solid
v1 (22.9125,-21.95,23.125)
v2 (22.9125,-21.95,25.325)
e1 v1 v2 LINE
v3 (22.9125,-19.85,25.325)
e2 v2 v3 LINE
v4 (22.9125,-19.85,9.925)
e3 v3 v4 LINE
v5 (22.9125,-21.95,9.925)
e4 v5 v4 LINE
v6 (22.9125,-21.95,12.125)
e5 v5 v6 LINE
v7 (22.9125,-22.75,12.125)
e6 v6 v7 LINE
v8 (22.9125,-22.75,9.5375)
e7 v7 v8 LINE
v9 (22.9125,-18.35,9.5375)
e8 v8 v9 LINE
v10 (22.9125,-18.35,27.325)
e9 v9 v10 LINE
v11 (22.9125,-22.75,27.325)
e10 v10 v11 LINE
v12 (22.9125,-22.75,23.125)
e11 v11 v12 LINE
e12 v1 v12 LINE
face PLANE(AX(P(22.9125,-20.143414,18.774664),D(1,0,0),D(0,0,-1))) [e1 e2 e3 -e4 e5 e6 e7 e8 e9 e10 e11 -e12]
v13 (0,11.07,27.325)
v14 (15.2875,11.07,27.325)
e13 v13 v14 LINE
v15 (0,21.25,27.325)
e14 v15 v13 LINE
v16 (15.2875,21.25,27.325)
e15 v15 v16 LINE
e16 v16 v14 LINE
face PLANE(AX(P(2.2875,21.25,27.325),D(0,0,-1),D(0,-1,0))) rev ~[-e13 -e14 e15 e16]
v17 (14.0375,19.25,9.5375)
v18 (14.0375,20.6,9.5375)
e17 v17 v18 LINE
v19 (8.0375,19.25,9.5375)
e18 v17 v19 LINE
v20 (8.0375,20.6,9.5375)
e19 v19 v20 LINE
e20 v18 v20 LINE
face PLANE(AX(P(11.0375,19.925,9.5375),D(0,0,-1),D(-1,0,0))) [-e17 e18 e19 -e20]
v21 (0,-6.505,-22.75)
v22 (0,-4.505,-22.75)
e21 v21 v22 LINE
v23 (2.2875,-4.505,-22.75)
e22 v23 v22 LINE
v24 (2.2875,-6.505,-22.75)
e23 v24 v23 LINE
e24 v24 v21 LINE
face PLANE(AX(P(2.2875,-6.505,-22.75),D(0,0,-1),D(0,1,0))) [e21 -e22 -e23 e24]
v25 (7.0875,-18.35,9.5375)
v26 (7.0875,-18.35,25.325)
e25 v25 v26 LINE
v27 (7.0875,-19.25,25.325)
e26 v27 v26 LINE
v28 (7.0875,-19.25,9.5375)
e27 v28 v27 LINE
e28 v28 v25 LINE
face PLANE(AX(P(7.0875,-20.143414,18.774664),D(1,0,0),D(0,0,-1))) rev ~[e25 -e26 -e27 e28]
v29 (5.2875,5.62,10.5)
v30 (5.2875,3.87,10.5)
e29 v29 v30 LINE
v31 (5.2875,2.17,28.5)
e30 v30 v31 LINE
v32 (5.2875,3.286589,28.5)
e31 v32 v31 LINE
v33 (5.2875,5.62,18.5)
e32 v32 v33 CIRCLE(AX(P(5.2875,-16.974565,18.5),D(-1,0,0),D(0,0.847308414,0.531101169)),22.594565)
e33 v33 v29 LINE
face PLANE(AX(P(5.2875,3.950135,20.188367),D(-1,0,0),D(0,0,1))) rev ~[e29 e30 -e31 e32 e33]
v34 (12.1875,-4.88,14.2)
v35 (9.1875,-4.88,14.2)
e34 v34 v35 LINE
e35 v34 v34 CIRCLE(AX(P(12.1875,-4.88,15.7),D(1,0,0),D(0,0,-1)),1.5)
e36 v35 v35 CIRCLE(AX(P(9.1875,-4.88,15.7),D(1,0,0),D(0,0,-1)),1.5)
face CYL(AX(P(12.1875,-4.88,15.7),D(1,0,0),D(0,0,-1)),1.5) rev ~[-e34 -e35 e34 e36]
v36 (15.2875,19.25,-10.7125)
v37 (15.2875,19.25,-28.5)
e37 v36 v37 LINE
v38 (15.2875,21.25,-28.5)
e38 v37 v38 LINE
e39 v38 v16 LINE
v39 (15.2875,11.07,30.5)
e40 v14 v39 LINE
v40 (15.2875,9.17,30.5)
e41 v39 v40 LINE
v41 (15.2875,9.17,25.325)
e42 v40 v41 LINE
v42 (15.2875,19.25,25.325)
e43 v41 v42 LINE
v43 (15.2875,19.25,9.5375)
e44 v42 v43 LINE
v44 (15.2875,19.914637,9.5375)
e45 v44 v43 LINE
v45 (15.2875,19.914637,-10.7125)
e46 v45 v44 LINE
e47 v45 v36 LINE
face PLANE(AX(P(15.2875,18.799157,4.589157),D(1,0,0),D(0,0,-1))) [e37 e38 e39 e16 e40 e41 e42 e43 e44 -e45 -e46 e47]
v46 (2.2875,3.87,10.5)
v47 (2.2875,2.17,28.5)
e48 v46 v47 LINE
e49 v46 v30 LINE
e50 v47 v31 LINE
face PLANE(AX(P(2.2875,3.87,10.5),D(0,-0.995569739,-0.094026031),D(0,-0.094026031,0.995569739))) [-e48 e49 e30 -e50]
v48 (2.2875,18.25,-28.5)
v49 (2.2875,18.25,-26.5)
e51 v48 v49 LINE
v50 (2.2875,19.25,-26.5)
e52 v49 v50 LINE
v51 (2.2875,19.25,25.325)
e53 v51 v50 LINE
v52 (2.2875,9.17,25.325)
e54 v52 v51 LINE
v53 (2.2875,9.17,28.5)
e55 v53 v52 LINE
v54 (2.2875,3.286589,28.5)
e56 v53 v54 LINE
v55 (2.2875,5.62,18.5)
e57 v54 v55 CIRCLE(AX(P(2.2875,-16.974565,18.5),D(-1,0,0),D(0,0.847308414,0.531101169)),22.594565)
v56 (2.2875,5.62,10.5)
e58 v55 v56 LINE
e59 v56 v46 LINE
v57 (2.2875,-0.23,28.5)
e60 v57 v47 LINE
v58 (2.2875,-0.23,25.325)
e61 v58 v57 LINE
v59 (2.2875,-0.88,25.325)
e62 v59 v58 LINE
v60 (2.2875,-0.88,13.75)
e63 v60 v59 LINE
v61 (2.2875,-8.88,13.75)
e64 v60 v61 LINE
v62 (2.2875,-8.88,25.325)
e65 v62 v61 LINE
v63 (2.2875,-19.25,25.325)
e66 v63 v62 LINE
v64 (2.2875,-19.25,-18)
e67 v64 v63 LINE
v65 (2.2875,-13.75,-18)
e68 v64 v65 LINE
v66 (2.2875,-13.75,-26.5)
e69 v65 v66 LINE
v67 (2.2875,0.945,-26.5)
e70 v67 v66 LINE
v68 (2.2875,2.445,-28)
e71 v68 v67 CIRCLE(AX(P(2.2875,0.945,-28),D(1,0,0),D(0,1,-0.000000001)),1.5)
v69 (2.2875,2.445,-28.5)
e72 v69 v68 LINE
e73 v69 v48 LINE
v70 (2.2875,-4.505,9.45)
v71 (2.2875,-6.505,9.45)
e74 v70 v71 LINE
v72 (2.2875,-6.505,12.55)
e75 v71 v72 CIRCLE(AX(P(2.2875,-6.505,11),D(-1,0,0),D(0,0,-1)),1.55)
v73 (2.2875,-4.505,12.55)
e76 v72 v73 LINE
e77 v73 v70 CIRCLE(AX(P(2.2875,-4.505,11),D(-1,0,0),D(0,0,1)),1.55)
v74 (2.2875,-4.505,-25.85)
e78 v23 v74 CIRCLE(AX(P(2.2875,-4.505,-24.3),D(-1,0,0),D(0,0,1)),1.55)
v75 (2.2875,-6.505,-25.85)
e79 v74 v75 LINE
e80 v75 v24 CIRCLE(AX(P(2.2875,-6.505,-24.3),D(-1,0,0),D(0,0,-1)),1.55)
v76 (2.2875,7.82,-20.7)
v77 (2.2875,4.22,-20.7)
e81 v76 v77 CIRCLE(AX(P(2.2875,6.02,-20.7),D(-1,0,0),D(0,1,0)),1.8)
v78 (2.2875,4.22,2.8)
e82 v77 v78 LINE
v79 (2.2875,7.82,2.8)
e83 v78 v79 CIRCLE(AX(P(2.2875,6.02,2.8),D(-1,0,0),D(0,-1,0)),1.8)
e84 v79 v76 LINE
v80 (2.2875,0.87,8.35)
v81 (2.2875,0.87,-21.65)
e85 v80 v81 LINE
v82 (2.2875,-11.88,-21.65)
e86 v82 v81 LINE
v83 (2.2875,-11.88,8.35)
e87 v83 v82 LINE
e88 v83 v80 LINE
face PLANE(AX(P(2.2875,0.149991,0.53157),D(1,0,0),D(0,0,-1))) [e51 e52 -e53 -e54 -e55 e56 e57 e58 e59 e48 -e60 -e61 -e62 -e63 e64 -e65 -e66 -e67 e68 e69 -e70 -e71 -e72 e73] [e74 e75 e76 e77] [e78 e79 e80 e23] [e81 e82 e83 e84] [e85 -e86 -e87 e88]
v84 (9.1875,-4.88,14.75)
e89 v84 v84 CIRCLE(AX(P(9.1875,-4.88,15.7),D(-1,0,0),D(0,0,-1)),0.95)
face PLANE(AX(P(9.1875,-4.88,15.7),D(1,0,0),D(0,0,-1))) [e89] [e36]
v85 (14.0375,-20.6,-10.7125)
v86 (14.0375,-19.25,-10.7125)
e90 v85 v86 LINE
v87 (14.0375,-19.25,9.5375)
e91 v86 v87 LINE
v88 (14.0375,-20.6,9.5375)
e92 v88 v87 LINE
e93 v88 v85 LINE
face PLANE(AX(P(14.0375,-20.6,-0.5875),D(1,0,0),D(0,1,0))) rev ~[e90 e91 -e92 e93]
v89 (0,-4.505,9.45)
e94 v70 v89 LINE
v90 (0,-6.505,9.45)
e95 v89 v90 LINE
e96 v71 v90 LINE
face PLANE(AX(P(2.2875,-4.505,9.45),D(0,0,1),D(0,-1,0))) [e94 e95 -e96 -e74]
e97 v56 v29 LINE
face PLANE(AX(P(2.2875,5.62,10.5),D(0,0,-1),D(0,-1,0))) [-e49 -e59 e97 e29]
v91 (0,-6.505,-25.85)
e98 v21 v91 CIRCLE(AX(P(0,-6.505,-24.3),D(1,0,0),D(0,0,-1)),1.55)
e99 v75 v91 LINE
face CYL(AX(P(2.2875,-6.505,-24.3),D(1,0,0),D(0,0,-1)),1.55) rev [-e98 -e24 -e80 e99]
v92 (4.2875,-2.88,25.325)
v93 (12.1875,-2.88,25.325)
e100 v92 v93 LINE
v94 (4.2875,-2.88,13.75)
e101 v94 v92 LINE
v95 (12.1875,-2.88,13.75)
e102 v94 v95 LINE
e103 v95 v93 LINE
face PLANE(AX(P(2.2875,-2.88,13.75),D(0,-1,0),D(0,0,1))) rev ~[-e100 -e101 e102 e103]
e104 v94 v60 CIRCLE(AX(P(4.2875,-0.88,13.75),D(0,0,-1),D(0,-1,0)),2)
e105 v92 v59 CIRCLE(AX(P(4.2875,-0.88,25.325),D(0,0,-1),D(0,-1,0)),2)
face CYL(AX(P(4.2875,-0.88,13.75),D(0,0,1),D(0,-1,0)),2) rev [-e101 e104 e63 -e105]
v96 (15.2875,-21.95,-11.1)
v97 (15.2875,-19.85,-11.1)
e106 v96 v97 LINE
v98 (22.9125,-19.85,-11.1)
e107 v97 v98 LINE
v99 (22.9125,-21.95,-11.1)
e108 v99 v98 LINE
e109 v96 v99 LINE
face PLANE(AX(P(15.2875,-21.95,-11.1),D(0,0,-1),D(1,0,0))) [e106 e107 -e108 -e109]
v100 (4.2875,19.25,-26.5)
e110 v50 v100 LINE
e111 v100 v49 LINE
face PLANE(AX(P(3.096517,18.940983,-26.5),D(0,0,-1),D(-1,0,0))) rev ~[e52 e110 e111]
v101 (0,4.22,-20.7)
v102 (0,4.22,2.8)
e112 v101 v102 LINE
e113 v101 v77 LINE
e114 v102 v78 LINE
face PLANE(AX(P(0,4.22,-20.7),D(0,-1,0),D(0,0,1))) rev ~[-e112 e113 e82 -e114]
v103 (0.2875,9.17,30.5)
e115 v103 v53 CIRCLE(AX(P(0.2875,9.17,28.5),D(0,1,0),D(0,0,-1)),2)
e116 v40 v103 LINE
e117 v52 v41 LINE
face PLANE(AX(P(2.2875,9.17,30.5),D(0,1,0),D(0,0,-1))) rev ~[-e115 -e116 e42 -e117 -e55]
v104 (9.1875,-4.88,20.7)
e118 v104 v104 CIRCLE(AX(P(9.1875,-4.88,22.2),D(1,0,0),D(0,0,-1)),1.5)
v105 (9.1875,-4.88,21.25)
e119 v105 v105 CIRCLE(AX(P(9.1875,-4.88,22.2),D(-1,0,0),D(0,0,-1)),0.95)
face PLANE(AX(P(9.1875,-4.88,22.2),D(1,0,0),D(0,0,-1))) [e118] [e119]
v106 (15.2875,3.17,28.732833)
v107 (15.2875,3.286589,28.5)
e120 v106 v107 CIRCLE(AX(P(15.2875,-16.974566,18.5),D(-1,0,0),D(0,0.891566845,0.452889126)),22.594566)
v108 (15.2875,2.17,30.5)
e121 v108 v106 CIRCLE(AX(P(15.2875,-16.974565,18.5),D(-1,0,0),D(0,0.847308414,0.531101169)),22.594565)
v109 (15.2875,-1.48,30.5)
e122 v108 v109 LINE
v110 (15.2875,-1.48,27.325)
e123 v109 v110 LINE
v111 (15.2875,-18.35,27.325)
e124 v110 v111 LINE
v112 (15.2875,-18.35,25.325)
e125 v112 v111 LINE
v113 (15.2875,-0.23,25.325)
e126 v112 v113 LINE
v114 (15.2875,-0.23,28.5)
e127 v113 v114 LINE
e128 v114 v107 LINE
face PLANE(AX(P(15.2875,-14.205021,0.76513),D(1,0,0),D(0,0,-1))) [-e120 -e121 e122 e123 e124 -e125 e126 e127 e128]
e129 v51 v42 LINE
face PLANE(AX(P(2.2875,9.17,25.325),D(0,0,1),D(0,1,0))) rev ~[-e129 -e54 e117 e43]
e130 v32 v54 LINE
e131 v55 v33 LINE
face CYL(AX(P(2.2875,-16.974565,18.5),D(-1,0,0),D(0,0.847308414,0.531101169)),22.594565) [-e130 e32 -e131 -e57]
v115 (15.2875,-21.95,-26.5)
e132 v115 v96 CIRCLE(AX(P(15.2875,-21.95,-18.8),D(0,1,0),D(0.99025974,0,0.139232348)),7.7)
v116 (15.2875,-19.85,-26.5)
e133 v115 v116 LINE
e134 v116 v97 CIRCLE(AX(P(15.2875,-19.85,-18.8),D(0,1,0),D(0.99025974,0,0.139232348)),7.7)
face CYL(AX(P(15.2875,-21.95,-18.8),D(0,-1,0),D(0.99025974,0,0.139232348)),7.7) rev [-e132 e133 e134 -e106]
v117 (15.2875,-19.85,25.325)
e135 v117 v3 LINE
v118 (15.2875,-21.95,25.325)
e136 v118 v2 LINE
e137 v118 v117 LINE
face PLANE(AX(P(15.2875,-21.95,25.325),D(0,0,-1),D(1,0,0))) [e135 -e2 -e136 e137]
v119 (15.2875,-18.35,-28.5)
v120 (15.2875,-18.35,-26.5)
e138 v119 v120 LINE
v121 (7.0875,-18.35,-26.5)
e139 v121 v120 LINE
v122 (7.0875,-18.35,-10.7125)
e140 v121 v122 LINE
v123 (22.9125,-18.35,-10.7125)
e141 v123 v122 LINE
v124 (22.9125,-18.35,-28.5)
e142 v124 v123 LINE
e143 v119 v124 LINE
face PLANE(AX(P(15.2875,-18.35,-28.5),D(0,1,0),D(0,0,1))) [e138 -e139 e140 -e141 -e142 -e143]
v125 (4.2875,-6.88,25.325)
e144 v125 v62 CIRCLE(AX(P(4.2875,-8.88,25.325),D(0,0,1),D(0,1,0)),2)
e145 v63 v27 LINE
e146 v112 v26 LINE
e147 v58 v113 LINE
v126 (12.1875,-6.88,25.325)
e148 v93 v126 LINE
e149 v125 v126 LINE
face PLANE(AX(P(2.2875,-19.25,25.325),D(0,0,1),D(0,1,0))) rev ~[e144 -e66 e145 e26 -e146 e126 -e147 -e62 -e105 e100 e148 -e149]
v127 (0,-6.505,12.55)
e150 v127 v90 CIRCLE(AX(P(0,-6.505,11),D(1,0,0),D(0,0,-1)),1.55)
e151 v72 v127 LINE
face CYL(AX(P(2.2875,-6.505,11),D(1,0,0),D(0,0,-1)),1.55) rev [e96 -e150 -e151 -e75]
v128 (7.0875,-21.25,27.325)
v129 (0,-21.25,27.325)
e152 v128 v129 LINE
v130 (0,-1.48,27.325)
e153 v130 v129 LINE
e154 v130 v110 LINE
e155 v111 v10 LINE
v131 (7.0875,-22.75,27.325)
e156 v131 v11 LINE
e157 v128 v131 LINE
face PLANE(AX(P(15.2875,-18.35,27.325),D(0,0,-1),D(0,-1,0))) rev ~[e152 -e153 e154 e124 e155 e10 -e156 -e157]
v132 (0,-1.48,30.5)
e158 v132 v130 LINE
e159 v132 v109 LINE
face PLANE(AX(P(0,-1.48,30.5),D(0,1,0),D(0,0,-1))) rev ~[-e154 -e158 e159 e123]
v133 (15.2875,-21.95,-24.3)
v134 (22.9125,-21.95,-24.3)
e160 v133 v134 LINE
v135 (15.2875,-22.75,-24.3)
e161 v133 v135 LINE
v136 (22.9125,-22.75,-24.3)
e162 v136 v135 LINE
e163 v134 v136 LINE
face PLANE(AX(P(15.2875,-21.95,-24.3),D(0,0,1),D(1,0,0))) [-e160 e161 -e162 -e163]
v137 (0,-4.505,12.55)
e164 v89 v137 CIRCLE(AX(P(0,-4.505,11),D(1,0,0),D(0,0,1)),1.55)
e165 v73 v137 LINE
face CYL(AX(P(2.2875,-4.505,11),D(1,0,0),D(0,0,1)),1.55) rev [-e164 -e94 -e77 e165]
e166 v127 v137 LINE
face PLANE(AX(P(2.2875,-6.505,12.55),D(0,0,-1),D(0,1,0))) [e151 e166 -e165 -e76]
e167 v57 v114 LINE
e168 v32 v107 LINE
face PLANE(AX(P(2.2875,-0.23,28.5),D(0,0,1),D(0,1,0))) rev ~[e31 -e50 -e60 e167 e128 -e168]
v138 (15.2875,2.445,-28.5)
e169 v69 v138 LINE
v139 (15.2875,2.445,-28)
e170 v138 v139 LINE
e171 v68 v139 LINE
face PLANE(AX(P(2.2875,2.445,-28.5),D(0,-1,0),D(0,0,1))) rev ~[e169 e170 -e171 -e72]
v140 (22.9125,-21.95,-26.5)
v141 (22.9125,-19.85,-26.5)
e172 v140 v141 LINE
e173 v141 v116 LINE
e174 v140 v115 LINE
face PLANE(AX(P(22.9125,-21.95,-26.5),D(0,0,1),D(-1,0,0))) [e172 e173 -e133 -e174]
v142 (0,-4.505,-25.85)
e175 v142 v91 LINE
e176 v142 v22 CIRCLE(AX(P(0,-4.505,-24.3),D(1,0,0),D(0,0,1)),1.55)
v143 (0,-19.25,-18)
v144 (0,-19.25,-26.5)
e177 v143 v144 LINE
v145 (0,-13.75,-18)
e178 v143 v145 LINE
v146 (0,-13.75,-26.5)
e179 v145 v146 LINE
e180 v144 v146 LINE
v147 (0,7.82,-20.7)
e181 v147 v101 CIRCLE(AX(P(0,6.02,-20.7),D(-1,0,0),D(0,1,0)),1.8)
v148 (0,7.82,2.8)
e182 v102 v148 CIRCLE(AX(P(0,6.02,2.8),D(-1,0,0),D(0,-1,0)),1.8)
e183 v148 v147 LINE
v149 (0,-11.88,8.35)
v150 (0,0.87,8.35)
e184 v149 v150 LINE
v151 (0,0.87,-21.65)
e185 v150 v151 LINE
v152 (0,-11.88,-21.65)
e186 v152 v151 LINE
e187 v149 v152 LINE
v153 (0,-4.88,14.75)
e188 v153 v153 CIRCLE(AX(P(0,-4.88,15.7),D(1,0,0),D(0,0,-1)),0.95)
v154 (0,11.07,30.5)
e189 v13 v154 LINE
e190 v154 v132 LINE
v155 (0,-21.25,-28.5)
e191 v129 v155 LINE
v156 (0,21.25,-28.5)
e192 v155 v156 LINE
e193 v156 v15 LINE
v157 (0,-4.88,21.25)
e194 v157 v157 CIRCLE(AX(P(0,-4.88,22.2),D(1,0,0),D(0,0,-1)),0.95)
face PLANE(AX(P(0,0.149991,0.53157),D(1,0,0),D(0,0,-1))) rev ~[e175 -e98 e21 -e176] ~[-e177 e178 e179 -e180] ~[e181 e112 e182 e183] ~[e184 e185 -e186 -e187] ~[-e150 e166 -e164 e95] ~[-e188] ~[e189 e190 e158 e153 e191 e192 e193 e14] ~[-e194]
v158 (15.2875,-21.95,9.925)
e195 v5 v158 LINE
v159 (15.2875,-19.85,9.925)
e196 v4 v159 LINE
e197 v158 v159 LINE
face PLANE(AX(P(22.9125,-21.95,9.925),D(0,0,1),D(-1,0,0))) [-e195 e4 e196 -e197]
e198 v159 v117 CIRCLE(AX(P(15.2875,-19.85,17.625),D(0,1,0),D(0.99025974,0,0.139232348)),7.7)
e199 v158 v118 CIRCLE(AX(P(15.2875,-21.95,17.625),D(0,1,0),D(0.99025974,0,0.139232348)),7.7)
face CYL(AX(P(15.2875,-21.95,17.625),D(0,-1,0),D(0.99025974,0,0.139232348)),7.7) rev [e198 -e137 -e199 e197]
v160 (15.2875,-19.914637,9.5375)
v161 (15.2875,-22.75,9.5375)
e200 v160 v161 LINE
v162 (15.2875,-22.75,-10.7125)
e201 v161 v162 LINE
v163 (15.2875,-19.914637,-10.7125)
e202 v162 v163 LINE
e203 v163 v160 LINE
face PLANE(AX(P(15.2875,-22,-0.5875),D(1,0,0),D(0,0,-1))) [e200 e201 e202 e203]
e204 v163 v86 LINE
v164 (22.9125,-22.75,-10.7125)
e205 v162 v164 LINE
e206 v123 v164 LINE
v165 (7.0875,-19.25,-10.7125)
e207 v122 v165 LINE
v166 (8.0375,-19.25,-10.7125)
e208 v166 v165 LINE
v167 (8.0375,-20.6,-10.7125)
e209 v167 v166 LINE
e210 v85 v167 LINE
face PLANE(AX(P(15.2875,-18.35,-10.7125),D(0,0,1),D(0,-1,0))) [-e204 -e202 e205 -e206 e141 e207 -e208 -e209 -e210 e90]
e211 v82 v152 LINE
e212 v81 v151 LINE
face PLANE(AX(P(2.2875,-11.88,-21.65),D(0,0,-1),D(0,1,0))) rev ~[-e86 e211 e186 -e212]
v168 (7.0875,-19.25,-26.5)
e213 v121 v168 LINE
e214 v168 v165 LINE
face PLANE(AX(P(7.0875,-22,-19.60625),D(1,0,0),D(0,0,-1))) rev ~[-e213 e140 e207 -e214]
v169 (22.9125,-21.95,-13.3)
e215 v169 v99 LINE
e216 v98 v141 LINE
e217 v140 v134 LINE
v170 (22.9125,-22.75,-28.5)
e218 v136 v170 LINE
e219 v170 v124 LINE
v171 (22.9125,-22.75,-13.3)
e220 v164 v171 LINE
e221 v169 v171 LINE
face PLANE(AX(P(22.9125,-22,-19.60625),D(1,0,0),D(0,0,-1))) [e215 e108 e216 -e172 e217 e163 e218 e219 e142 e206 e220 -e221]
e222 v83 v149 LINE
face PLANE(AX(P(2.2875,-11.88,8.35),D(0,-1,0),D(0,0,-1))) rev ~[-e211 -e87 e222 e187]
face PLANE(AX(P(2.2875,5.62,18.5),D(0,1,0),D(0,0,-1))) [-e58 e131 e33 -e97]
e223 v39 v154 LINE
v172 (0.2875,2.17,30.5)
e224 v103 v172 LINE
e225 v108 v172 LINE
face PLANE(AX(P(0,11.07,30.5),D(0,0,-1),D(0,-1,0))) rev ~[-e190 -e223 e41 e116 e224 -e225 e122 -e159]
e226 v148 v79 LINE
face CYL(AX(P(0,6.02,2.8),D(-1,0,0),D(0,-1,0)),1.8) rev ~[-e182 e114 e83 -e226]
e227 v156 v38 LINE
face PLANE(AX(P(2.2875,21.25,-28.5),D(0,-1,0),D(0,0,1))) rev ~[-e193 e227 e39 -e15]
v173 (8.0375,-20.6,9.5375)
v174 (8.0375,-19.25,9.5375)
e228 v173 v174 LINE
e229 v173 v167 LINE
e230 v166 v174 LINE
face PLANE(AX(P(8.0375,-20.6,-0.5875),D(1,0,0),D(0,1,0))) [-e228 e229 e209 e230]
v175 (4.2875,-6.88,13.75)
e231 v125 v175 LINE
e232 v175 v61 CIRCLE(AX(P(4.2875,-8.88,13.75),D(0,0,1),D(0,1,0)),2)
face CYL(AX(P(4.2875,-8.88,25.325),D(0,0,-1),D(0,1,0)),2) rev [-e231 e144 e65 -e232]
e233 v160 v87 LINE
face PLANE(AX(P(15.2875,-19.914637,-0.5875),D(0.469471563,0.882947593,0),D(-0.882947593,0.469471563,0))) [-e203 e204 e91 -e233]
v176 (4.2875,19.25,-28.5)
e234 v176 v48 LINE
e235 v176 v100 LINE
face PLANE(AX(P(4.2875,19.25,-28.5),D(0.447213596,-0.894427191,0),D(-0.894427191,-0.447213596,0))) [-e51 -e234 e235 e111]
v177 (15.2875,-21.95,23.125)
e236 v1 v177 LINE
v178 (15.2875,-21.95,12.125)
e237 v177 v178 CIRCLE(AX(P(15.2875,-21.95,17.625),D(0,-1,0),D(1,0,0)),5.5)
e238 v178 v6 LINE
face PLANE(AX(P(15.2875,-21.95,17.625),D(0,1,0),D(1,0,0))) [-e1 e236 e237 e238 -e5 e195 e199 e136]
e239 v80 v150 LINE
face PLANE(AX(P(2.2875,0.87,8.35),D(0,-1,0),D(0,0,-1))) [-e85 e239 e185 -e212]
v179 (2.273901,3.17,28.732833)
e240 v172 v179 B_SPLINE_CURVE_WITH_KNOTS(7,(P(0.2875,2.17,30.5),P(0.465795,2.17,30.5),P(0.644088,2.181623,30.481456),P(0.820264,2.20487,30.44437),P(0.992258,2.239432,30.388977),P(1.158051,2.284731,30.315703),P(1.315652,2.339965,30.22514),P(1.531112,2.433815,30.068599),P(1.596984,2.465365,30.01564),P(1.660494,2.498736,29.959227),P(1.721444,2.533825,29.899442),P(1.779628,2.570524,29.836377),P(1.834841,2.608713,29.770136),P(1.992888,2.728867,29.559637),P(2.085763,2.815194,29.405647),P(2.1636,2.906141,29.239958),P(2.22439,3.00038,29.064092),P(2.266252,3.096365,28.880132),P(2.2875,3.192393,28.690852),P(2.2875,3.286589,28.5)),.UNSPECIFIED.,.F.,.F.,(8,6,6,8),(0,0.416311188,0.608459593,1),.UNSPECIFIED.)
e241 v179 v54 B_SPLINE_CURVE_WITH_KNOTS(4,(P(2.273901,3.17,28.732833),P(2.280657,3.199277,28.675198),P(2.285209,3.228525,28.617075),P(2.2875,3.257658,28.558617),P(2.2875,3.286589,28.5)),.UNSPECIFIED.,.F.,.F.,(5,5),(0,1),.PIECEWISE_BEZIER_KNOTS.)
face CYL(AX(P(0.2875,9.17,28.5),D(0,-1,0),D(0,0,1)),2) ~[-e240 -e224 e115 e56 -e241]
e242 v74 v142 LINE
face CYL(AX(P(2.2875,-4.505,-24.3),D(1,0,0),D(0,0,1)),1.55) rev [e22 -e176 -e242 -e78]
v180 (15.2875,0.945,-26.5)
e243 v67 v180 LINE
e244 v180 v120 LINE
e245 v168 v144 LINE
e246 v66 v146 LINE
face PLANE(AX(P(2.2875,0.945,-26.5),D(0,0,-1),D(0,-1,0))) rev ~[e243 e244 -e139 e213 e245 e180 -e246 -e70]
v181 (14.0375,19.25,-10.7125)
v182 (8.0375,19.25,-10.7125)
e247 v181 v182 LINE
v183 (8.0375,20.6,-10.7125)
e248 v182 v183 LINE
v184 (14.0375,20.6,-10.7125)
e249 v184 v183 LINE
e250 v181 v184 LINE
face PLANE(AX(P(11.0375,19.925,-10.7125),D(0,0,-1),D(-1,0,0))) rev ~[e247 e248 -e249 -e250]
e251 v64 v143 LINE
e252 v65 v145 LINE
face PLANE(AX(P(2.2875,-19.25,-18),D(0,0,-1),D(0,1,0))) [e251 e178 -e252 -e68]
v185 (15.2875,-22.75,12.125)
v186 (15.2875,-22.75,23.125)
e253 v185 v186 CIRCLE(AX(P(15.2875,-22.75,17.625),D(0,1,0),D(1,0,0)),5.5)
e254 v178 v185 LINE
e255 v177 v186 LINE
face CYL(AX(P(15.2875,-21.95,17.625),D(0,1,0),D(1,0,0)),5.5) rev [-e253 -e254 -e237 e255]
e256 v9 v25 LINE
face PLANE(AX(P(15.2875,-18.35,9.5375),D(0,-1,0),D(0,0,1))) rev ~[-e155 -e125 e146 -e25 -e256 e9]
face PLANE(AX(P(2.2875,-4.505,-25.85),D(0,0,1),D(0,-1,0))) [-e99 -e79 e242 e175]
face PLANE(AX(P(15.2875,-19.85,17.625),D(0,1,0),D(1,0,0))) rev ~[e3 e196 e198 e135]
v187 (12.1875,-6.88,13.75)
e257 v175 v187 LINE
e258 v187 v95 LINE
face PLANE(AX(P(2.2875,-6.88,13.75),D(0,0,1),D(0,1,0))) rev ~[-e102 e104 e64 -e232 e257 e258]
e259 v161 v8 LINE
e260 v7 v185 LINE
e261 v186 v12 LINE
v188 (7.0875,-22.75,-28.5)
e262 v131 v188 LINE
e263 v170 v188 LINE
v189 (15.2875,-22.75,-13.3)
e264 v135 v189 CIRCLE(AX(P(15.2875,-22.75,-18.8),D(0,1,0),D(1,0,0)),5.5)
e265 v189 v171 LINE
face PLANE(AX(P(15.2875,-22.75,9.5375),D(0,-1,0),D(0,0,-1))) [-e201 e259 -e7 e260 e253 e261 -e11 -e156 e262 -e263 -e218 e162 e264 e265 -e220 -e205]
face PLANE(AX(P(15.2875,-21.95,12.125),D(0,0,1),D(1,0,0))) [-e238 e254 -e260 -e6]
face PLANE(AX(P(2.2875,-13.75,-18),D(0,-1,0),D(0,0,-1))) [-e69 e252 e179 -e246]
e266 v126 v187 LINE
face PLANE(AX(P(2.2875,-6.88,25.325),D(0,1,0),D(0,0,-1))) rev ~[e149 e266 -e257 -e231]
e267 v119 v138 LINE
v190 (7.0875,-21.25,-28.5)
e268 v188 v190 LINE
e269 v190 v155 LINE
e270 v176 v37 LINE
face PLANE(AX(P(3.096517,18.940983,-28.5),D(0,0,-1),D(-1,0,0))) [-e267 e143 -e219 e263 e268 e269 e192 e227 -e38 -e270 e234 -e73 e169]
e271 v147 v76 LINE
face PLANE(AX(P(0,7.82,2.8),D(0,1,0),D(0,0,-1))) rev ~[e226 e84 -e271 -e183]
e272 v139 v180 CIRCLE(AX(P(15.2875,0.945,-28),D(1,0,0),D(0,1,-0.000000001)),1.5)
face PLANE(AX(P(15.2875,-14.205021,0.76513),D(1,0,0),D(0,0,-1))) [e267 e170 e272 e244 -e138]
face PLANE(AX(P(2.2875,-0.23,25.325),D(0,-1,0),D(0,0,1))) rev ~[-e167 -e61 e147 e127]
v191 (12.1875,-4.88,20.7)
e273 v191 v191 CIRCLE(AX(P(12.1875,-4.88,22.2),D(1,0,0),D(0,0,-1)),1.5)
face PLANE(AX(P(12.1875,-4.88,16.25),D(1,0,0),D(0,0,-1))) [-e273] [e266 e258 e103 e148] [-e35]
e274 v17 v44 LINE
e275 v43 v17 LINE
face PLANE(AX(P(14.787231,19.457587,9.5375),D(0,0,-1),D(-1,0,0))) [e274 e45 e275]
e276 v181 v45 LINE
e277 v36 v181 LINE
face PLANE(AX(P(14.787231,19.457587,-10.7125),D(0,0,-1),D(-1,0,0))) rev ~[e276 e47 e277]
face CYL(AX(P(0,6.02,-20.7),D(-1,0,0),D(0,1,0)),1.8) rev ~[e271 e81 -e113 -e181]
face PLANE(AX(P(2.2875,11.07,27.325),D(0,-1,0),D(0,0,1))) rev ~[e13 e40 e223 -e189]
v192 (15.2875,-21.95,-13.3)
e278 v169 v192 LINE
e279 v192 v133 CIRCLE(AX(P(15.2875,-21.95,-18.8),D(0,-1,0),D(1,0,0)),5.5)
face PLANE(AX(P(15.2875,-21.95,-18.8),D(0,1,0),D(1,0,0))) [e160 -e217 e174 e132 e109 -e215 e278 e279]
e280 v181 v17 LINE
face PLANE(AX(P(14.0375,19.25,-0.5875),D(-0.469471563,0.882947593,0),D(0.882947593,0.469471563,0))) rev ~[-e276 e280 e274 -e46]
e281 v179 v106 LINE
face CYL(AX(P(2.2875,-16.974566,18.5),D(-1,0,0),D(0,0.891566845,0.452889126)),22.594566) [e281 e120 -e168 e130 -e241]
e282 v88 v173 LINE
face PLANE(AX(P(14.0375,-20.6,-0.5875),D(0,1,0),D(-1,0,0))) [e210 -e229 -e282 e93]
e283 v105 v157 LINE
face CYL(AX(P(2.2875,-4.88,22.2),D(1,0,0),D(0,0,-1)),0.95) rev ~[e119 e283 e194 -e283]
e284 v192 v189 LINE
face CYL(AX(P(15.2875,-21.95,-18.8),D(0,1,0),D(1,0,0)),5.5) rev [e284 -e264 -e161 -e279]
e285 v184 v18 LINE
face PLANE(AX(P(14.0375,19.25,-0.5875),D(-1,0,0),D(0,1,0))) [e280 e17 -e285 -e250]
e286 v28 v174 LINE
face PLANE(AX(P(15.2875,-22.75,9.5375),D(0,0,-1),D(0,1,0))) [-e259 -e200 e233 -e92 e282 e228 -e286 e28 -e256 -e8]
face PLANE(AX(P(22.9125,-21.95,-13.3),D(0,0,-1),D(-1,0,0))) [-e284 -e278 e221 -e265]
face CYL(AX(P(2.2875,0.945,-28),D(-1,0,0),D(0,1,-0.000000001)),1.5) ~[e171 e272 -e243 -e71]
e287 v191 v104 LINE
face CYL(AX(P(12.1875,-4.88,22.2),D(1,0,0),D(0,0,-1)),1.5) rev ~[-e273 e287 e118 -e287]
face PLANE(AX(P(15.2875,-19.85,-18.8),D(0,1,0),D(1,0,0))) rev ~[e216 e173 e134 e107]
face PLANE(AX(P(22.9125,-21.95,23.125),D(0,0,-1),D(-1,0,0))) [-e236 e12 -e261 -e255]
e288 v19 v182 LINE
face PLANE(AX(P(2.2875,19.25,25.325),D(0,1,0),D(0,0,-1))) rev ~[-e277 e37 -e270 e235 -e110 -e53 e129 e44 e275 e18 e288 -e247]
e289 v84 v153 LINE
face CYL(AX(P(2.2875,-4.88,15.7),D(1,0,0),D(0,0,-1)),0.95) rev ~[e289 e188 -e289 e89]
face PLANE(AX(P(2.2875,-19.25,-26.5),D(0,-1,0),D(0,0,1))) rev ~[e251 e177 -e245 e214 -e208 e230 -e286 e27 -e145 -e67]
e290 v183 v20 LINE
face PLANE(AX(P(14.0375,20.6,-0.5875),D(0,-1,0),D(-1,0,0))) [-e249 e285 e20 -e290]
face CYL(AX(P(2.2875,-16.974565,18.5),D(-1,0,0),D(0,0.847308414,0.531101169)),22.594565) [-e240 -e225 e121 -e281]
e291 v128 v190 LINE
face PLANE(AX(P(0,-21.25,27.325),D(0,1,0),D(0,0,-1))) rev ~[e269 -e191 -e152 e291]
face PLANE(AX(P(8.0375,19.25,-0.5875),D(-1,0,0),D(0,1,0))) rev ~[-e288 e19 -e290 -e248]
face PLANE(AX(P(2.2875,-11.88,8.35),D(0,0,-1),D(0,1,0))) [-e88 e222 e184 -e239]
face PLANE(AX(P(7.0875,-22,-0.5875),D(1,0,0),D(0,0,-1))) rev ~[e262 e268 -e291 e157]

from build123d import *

# Parameters (mm, degrees)
MAIN_EXTRUDE_DEPTH            = 2.2875
WALLS_START                   = 2.2875
WALLS_DEPTH                   = 13
CORNER_SUPPORT_DEPTH          = 2
SKETCH2_R                     = 0.95
SKETCH2_W                     = 2.4
SKETCH2_H                     = 4
SKETCH2_W_2                   = 1
SWITCH_SPACER_DEPTH           = 9.9
ARM_SUPPORT_EXTRUDE_DEPTH     = 3
ARM_SUPPORT_CURVE_DEPTH       = 40.380356778
FILLET4_R                     = 2
FILLET3_R                     = 2
SKETCH2_5_R                   = 0.95
SWITCH_MOUNT_HOLES_DEPTH      = 40.380356889
SWITCH_MOUNT_HOLES_DEPTH_BACK = 40.380356889
SKETCH35_R                    = 1.5
SWITCH_MOUNT_EXIT_HOLES_DEPTH = 3
SKETCH4_W                     = 8.5
SKETCH4_H                     = 5.5
WIRE_HOLE_DEPTH               = 40.380356889
SKETCH25_W                    = 6
SKETCH25_H                    = 1.35
FEMALE_SNAP_DEPTH             = 10.125
SKETCH5_W                     = 30
SKETCH5_H                     = 12.75
SERVO_HOLE_DEPTH              = 40.380356889
SKETCH30_W                    = 15.7875
SKETCH30_H                    = 0.9
SKETCH30_W_2                  = 17.7875
SKETCH30_H_2                  = 1.5
MAGNET_EXTRUDE_1_DEPTH        = 7.625
MAGNET_EXTRUDE_1_DEPTH_BACK   = 8.2
SKETCH30_5_W                  = 20.25
SKETCH30_5_H                  = 1.5
MAGNET_EXTRUDE_2_DEPTH        = 8.2
SKETCH29_R                    = 7.7
MAGNET_HOLE_DEPTH             = 2.1
SKETCH31_R                    = 5.5
MAGNET_THRU_HOLE_DEPTH        = 58.632218961


with BuildPart() as part:
    # Sketch1 → Main Extrude (new body)
    with BuildSketch(Plane(origin=(0, 0, 0), x_dir=(0, 0, -1), z_dir=(1, 0, 0))):
        Polygon((-30.5, -1.48), (-27.325, -1.48), (-27.325, -21.25), (28.5, -21.25), (28.5, 21.25), (-27.325, 21.25), (-27.325, 11.07), (-30.5, 11.07), align=None)
        with BuildLine():
            Line((20.7, 4.22), (-2.8, 4.22))
            ThreePointArc((-2.8, 4.22), (-4.6, 6.02), (-2.8, 7.82))
            Line((-2.8, 7.82), (20.7, 7.82))
            ThreePointArc((20.7, 7.82), (22.5, 6.02), (20.7, 4.22))
        make_face(mode=Mode.SUBTRACT)
    extrude(amount=MAIN_EXTRUDE_DEPTH)

    # Sketch1_3 → Walls (add)
    with BuildSketch(Plane(origin=(0, 0, 0), x_dir=(0, 0, -1), z_dir=(1, 0, 0)).offset(WALLS_START)):
        Polygon((-25.325, 19.25), (28.5, 19.25), (28.5, 21.25), (-27.325, 21.25), (-27.325, 11.07), (-30.5, 11.07), (-30.5, 9.17), (-25.325, 9.17), align=None)
        with BuildLine():
            Line((28.5, 2.445), (28, 2.445))
            ThreePointArc((28, 2.445), (26.939339828, 2.005660172), (26.5, 0.945))
            Line((26.5, 0.945), (26.5, -19.25))
            Line((26.5, -19.25), (-25.325, -19.25))
            Line((-25.325, -19.25), (-25.325, -0.23))
            Line((-25.325, -0.23), (-28.5, -0.23))
            Line((-28.5, -0.23), (-28.5, 3.42))
            Line((-28.5, 3.42), (-30.5, 3.42))
            Line((-30.5, 3.42), (-30.5, -1.48))
            Line((-30.5, -1.48), (-27.325, -1.48))
            Line((-27.325, -1.48), (-27.325, -21.25))
            Line((-27.325, -21.25), (28.5, -21.25))
            Line((28.5, -21.25), (28.5, 2.445))
        make_face()
    extrude(amount=WALLS_DEPTH)

    # Sketch22 → Corner Support (add)
    with BuildSketch(Plane(origin=(0, 0, -28.5), x_dir=(-1, 0, 0), z_dir=(0, 0, -1))):
        Polygon((-4.2875, 19.25), (-2.2875, 18.25), (-2.2875, 19.25), align=None)
    extrude(amount=-CORNER_SUPPORT_DEPTH)

    # Sketch2 → Switch Spacer (add)
    with BuildSketch(Plane(origin=(2.2875, 0, 0), x_dir=(0, 0, -1), z_dir=(1, 0, 0))):
        Polygon((-14.75, -2.88), (-17.75, -2.88), (-17.75, -6.88), (-14.75, -6.88), (-14.75, -4.88), align=None)
        with Locations((-15.7, -4.88)):
            Circle(SKETCH2_R, mode=Mode.SUBTRACT)
        with Locations((-15.7, -4.88)):
            Circle(SKETCH2_R)
        Polygon((-20.15, -2.88), (-23.15, -2.88), (-23.15, -4.88), (-23.15, -6.88), (-20.15, -6.88), align=None)
        with BuildLine():
            ThreePointArc((-21.25, -4.88), (-22.2, -5.83), (-23.15, -4.88))
            ThreePointArc((-23.15, -4.88), (-22.2, -3.93), (-21.25, -4.88))
        make_face(mode=Mode.SUBTRACT)
        with Locations((-22.2, -4.88)):
            Circle(SKETCH2_R)
        Polygon((-23.15, -4.88), (-23.15, -2.88), (-25.325, -2.88), (-25.325, -6.88), (-23.15, -6.88), align=None)
        with Locations((-18.95, -4.88)):
            Rectangle(SKETCH2_W, SKETCH2_H)
        with Locations((-14.25, -4.88)):
            Rectangle(SKETCH2_W_2, SKETCH2_H)
    extrude(amount=SWITCH_SPACER_DEPTH)

    # Sketch3 → Arm Support Extrude (add)
    with BuildSketch(Plane(origin=(2.2875, 0, 0), x_dir=(0, 0, -1), z_dir=(1, 0, 0))):
        with BuildLine():
            Line((-18.5, 5.62), (-10.5, 5.62))
            Line((-10.5, 5.62), (-10.5, 3.87))
            Line((-10.5, 3.87), (-28.5, 2.17))
            Line((-28.5, 2.17), (-30.5, 2.17))
            ThreePointArc((-30.5, 2.17), (-24.743046131, 4.740377849), (-18.5, 5.62))
        make_face()
    extrude(amount=ARM_SUPPORT_EXTRUDE_DEPTH)

    # Sketch7 → Arm Support Curve (cut, through all)
    with BuildSketch(Plane(origin=(2.2875, 0, 0), x_dir=(0, 0, -1), z_dir=(1, 0, 0))):
        with BuildLine():
            Line((-28.5, 3.286589176), (-28.5, 3.42))
            Line((-28.5, 3.42), (-30.5, 3.42))
            Line((-30.5, 3.42), (-30.5, 2.17))
            ThreePointArc((-30.5, 2.17), (-29.627655409, 2.689861102), (-28.73283292, 3.17))
            ThreePointArc((-28.73283292, 3.17), (-28.616584416, 3.228630003), (-28.5, 3.286589176))
        make_face()
    extrude(amount=ARM_SUPPORT_CURVE_DEPTH, mode=Mode.SUBTRACT)

    # Fillet4
    fillet4_edges = [part.edges().sort_by_distance(p)[0] for p in [
        (2.2875, 5.67, 30.5),
    ]]
    fillet(fillet4_edges, radius=FILLET4_R)

    # Fillet3
    fillet3_edges = [part.edges().sort_by_distance(p)[0] for p in [
        (2.2875, -6.88, 19.5375),
        (2.2875, -2.88, 19.5375),
    ]]
    fillet(fillet3_edges, radius=FILLET3_R)

    # Sketch2_5 → Switch Mount Holes (cut, two sides)
    with BuildSketch(Plane(origin=(2.2875, 0, 0), x_dir=(0, 0, -1), z_dir=(1, 0, 0))) as switch_mount_holes_sk:
        with Locations((-22.2, -4.88)):
            Circle(SKETCH2_5_R)
        with Locations((-15.7, -4.88)):
            Circle(SKETCH2_5_R)
    extrude(amount=SWITCH_MOUNT_HOLES_DEPTH, mode=Mode.SUBTRACT)
    extrude(switch_mount_holes_sk.sketch, amount=-SWITCH_MOUNT_HOLES_DEPTH_BACK, mode=Mode.SUBTRACT)

    # Sketch35 → Switch Mount Exit Holes (cut)
    with BuildSketch(Plane(origin=(12.1875, 0, 0), x_dir=(0, 0, -1), z_dir=(1, 0, 0))):
        with Locations((-22.2, -4.88)):
            Circle(SKETCH35_R)
        with Locations((-15.7, -4.88)):
            Circle(SKETCH35_R)
    extrude(amount=-SWITCH_MOUNT_EXIT_HOLES_DEPTH, mode=Mode.SUBTRACT)

    # Sketch4 → Wire Hole (cut, through all)
    with BuildSketch(Plane(origin=(2.2875, 0, 0), x_dir=(0, 0, -1), z_dir=(1, 0, 0))):
        with Locations((22.25, -16.5)):
            Rectangle(SKETCH4_W, SKETCH4_H)
    extrude(amount=-WIRE_HOLE_DEPTH, mode=Mode.SUBTRACT)

    # Sketch25 → Female Snap (cut, symmetric)
    with BuildSketch(Plane(origin=(0, 0, -0.5875), x_dir=(-1, 0, 0), z_dir=(0, 0, -1))):
        with Locations((-11.0375, -19.925)):
            Rectangle(SKETCH25_W, SKETCH25_H)
        Polygon((-15.2875, -19.25), (-15.2875, -19.91463679), (-14.0375, -19.25), align=None)
        with Locations((-11.0375, 19.925)):
            Rectangle(SKETCH25_W, SKETCH25_H)
        Polygon((-15.2875, 19.91463679), (-15.2875, 19.25), (-14.0375, 19.25), align=None)
    extrude(amount=FEMALE_SNAP_DEPTH, both=True, mode=Mode.SUBTRACT)

    # Sketch5 → Servo Hole (cut, through all)
    with BuildSketch(Plane(origin=(2.2875, 0, 0), x_dir=(0, 0, -1), z_dir=(1, 0, 0))):
        with Locations((6.65, -5.505)):
            Rectangle(SKETCH5_W, SKETCH5_H)
        with BuildLine():
            Line((-9.45, -4.505), (-9.45, -6.505))
            ThreePointArc((-9.45, -6.505), (-11, -8.055), (-12.55, -6.505))
            Line((-12.55, -6.505), (-12.55, -4.505))
            ThreePointArc((-12.55, -4.505), (-11, -2.955), (-9.45, -4.505))
        make_face()
        with BuildLine():
            Line((25.85, -4.505), (25.85, -6.505))
            ThreePointArc((25.85, -6.505), (24.3, -8.055), (22.75, -6.505))
            Line((22.75, -6.505), (22.75, -4.505))
            ThreePointArc((22.75, -4.505), (24.3, -2.955), (25.85, -4.505))
        make_face()
    extrude(amount=-SERVO_HOLE_DEPTH, mode=Mode.SUBTRACT)

    # Sketch30 → Magnet Extrude 1 (add, two sides)
    with BuildSketch(Plane(origin=(15.2875, 0, 0), x_dir=(0, 0, -1), z_dir=(1, 0, 0))) as magnet_extrude_1_sk:
        Polygon((-27.325, -18.35), (-27.325, -21.25), (-9.5375, -21.25), (-9.5375, -19.91463679), (-9.5375, -19.25), (-25.325, -19.25), (-25.325, -18.35), align=None)
        with Locations((-17.43125, -18.8)):
            Rectangle(SKETCH30_W, SKETCH30_H)
        with Locations((19.60625, -22)):
            Rectangle(SKETCH30_W_2, SKETCH30_H_2)
        Polygon((10.7125, -19.91463679), (10.7125, -21.25), (28.5, -21.25), (28.5, -18.35), (26.5, -18.35), (26.5, -19.25), (10.7125, -19.25), align=None)
        with Locations((-18.43125, -22)):
            Rectangle(SKETCH30_W_2, SKETCH30_H_2)
        with Locations((18.60625, -18.8)):
            Rectangle(SKETCH30_W, SKETCH30_H)
    extrude(amount=MAGNET_EXTRUDE_1_DEPTH)
    extrude(magnet_extrude_1_sk.sketch, amount=-MAGNET_EXTRUDE_1_DEPTH_BACK)

    # Sketch30_5 → Magnet Extrude 2 (add)
    with BuildSketch(Plane(origin=(15.2875, 0, 0), x_dir=(0, 0, -1), z_dir=(1, 0, 0))):
        with Locations((0.5875, -22)):
            Rectangle(SKETCH30_5_W, SKETCH30_5_H)
    extrude(amount=-MAGNET_EXTRUDE_2_DEPTH)

    # Sketch29 → Magnet Hole (cut)
    with BuildSketch(Plane(origin=(0, -21.95, 0), x_dir=(1, 0, 0), z_dir=(0, 1, 0))):
        with Locations((15.2875, -17.625)):
            Circle(SKETCH29_R)
        with BuildLine():
            ThreePointArc((22.9125, -18.697089082), (20.338980677, -23.436414885), (15.2875, -25.325))
            Line((15.2875, -25.325), (22.9125, -25.325))
            Line((22.9125, -25.325), (22.9125, -18.697089082))
        make_face()
        with BuildLine():
            Line((22.9125, -9.925), (15.2875, -9.925))
            ThreePointArc((15.2875, -9.925), (20.338980677, -11.813585115), (22.9125, -16.552910918))
            Line((22.9125, -16.552910918), (22.9125, -9.925))
        make_face()
        with Locations((15.2875, 18.8)):
            Circle(SKETCH29_R)
        with BuildLine():
            ThreePointArc((22.9125, 17.727910918), (20.338980677, 12.988585115), (15.2875, 11.1))
            Line((15.2875, 11.1), (22.9125, 11.1))
            Line((22.9125, 11.1), (22.9125, 17.727910918))
        make_face()
        with BuildLine():
            Line((22.9125, 26.5), (15.2875, 26.5))
            ThreePointArc((15.2875, 26.5), (20.338980677, 24.611414885), (22.9125, 19.872089082))
            Line((22.9125, 19.872089082), (22.9125, 26.5))
        make_face()
        with BuildLine():
            ThreePointArc((22.9875, -17.625), (22.968727116, -17.087645368), (22.9125, -16.552910918))
            Line((22.9125, -16.552910918), (22.9125, -18.697089082))
            ThreePointArc((22.9125, -18.697089082), (22.968727116, -18.162354632), (22.9875, -17.625))
        make_face()
        with BuildLine():
            Line((22.9125, 19.872089082), (22.9125, 17.727910918))
            ThreePointArc((22.9125, 17.727910918), (22.968727116, 18.262645368), (22.9875, 18.8))
            ThreePointArc((22.9875, 18.8), (22.968727116, 19.337354632), (22.9125, 19.872089082))
        make_face()
    extrude(amount=MAGNET_HOLE_DEPTH, mode=Mode.SUBTRACT)

    # Sketch31 → Magnet Thru Hole (cut, through all)
    with BuildSketch(Plane.XZ.offset(21.95)):
        with Locations((15.2875, 17.625)):
            Circle(SKETCH31_R)
        with BuildLine():
            Line((22.9125, 23.125), (15.2875, 23.125))
            ThreePointArc((15.2875, 23.125), (19.176587297, 21.514087297), (20.7875, 17.625))
            ThreePointArc((20.7875, 17.625), (19.176587297, 13.735912703), (15.2875, 12.125))
            Line((15.2875, 12.125), (22.9125, 12.125))
            Line((22.9125, 12.125), (22.9125, 23.125))
        make_face()
        with Locations((15.2875, -18.8)):
            Circle(SKETCH31_R)
        with BuildLine():
            Line((22.9125, -13.3), (15.2875, -13.3))
            ThreePointArc((15.2875, -13.3), (19.176587297, -14.910912703), (20.7875, -18.8))
            ThreePointArc((20.7875, -18.8), (19.176587297, -22.689087297), (15.2875, -24.3))
            Line((15.2875, -24.3), (22.9125, -24.3))
            Line((22.9125, -24.3), (22.9125, -13.3))
        make_face()
    extrude(amount=MAGNET_THRU_HOLE_DEPTH, mode=Mode.SUBTRACT)


solid = part.part
